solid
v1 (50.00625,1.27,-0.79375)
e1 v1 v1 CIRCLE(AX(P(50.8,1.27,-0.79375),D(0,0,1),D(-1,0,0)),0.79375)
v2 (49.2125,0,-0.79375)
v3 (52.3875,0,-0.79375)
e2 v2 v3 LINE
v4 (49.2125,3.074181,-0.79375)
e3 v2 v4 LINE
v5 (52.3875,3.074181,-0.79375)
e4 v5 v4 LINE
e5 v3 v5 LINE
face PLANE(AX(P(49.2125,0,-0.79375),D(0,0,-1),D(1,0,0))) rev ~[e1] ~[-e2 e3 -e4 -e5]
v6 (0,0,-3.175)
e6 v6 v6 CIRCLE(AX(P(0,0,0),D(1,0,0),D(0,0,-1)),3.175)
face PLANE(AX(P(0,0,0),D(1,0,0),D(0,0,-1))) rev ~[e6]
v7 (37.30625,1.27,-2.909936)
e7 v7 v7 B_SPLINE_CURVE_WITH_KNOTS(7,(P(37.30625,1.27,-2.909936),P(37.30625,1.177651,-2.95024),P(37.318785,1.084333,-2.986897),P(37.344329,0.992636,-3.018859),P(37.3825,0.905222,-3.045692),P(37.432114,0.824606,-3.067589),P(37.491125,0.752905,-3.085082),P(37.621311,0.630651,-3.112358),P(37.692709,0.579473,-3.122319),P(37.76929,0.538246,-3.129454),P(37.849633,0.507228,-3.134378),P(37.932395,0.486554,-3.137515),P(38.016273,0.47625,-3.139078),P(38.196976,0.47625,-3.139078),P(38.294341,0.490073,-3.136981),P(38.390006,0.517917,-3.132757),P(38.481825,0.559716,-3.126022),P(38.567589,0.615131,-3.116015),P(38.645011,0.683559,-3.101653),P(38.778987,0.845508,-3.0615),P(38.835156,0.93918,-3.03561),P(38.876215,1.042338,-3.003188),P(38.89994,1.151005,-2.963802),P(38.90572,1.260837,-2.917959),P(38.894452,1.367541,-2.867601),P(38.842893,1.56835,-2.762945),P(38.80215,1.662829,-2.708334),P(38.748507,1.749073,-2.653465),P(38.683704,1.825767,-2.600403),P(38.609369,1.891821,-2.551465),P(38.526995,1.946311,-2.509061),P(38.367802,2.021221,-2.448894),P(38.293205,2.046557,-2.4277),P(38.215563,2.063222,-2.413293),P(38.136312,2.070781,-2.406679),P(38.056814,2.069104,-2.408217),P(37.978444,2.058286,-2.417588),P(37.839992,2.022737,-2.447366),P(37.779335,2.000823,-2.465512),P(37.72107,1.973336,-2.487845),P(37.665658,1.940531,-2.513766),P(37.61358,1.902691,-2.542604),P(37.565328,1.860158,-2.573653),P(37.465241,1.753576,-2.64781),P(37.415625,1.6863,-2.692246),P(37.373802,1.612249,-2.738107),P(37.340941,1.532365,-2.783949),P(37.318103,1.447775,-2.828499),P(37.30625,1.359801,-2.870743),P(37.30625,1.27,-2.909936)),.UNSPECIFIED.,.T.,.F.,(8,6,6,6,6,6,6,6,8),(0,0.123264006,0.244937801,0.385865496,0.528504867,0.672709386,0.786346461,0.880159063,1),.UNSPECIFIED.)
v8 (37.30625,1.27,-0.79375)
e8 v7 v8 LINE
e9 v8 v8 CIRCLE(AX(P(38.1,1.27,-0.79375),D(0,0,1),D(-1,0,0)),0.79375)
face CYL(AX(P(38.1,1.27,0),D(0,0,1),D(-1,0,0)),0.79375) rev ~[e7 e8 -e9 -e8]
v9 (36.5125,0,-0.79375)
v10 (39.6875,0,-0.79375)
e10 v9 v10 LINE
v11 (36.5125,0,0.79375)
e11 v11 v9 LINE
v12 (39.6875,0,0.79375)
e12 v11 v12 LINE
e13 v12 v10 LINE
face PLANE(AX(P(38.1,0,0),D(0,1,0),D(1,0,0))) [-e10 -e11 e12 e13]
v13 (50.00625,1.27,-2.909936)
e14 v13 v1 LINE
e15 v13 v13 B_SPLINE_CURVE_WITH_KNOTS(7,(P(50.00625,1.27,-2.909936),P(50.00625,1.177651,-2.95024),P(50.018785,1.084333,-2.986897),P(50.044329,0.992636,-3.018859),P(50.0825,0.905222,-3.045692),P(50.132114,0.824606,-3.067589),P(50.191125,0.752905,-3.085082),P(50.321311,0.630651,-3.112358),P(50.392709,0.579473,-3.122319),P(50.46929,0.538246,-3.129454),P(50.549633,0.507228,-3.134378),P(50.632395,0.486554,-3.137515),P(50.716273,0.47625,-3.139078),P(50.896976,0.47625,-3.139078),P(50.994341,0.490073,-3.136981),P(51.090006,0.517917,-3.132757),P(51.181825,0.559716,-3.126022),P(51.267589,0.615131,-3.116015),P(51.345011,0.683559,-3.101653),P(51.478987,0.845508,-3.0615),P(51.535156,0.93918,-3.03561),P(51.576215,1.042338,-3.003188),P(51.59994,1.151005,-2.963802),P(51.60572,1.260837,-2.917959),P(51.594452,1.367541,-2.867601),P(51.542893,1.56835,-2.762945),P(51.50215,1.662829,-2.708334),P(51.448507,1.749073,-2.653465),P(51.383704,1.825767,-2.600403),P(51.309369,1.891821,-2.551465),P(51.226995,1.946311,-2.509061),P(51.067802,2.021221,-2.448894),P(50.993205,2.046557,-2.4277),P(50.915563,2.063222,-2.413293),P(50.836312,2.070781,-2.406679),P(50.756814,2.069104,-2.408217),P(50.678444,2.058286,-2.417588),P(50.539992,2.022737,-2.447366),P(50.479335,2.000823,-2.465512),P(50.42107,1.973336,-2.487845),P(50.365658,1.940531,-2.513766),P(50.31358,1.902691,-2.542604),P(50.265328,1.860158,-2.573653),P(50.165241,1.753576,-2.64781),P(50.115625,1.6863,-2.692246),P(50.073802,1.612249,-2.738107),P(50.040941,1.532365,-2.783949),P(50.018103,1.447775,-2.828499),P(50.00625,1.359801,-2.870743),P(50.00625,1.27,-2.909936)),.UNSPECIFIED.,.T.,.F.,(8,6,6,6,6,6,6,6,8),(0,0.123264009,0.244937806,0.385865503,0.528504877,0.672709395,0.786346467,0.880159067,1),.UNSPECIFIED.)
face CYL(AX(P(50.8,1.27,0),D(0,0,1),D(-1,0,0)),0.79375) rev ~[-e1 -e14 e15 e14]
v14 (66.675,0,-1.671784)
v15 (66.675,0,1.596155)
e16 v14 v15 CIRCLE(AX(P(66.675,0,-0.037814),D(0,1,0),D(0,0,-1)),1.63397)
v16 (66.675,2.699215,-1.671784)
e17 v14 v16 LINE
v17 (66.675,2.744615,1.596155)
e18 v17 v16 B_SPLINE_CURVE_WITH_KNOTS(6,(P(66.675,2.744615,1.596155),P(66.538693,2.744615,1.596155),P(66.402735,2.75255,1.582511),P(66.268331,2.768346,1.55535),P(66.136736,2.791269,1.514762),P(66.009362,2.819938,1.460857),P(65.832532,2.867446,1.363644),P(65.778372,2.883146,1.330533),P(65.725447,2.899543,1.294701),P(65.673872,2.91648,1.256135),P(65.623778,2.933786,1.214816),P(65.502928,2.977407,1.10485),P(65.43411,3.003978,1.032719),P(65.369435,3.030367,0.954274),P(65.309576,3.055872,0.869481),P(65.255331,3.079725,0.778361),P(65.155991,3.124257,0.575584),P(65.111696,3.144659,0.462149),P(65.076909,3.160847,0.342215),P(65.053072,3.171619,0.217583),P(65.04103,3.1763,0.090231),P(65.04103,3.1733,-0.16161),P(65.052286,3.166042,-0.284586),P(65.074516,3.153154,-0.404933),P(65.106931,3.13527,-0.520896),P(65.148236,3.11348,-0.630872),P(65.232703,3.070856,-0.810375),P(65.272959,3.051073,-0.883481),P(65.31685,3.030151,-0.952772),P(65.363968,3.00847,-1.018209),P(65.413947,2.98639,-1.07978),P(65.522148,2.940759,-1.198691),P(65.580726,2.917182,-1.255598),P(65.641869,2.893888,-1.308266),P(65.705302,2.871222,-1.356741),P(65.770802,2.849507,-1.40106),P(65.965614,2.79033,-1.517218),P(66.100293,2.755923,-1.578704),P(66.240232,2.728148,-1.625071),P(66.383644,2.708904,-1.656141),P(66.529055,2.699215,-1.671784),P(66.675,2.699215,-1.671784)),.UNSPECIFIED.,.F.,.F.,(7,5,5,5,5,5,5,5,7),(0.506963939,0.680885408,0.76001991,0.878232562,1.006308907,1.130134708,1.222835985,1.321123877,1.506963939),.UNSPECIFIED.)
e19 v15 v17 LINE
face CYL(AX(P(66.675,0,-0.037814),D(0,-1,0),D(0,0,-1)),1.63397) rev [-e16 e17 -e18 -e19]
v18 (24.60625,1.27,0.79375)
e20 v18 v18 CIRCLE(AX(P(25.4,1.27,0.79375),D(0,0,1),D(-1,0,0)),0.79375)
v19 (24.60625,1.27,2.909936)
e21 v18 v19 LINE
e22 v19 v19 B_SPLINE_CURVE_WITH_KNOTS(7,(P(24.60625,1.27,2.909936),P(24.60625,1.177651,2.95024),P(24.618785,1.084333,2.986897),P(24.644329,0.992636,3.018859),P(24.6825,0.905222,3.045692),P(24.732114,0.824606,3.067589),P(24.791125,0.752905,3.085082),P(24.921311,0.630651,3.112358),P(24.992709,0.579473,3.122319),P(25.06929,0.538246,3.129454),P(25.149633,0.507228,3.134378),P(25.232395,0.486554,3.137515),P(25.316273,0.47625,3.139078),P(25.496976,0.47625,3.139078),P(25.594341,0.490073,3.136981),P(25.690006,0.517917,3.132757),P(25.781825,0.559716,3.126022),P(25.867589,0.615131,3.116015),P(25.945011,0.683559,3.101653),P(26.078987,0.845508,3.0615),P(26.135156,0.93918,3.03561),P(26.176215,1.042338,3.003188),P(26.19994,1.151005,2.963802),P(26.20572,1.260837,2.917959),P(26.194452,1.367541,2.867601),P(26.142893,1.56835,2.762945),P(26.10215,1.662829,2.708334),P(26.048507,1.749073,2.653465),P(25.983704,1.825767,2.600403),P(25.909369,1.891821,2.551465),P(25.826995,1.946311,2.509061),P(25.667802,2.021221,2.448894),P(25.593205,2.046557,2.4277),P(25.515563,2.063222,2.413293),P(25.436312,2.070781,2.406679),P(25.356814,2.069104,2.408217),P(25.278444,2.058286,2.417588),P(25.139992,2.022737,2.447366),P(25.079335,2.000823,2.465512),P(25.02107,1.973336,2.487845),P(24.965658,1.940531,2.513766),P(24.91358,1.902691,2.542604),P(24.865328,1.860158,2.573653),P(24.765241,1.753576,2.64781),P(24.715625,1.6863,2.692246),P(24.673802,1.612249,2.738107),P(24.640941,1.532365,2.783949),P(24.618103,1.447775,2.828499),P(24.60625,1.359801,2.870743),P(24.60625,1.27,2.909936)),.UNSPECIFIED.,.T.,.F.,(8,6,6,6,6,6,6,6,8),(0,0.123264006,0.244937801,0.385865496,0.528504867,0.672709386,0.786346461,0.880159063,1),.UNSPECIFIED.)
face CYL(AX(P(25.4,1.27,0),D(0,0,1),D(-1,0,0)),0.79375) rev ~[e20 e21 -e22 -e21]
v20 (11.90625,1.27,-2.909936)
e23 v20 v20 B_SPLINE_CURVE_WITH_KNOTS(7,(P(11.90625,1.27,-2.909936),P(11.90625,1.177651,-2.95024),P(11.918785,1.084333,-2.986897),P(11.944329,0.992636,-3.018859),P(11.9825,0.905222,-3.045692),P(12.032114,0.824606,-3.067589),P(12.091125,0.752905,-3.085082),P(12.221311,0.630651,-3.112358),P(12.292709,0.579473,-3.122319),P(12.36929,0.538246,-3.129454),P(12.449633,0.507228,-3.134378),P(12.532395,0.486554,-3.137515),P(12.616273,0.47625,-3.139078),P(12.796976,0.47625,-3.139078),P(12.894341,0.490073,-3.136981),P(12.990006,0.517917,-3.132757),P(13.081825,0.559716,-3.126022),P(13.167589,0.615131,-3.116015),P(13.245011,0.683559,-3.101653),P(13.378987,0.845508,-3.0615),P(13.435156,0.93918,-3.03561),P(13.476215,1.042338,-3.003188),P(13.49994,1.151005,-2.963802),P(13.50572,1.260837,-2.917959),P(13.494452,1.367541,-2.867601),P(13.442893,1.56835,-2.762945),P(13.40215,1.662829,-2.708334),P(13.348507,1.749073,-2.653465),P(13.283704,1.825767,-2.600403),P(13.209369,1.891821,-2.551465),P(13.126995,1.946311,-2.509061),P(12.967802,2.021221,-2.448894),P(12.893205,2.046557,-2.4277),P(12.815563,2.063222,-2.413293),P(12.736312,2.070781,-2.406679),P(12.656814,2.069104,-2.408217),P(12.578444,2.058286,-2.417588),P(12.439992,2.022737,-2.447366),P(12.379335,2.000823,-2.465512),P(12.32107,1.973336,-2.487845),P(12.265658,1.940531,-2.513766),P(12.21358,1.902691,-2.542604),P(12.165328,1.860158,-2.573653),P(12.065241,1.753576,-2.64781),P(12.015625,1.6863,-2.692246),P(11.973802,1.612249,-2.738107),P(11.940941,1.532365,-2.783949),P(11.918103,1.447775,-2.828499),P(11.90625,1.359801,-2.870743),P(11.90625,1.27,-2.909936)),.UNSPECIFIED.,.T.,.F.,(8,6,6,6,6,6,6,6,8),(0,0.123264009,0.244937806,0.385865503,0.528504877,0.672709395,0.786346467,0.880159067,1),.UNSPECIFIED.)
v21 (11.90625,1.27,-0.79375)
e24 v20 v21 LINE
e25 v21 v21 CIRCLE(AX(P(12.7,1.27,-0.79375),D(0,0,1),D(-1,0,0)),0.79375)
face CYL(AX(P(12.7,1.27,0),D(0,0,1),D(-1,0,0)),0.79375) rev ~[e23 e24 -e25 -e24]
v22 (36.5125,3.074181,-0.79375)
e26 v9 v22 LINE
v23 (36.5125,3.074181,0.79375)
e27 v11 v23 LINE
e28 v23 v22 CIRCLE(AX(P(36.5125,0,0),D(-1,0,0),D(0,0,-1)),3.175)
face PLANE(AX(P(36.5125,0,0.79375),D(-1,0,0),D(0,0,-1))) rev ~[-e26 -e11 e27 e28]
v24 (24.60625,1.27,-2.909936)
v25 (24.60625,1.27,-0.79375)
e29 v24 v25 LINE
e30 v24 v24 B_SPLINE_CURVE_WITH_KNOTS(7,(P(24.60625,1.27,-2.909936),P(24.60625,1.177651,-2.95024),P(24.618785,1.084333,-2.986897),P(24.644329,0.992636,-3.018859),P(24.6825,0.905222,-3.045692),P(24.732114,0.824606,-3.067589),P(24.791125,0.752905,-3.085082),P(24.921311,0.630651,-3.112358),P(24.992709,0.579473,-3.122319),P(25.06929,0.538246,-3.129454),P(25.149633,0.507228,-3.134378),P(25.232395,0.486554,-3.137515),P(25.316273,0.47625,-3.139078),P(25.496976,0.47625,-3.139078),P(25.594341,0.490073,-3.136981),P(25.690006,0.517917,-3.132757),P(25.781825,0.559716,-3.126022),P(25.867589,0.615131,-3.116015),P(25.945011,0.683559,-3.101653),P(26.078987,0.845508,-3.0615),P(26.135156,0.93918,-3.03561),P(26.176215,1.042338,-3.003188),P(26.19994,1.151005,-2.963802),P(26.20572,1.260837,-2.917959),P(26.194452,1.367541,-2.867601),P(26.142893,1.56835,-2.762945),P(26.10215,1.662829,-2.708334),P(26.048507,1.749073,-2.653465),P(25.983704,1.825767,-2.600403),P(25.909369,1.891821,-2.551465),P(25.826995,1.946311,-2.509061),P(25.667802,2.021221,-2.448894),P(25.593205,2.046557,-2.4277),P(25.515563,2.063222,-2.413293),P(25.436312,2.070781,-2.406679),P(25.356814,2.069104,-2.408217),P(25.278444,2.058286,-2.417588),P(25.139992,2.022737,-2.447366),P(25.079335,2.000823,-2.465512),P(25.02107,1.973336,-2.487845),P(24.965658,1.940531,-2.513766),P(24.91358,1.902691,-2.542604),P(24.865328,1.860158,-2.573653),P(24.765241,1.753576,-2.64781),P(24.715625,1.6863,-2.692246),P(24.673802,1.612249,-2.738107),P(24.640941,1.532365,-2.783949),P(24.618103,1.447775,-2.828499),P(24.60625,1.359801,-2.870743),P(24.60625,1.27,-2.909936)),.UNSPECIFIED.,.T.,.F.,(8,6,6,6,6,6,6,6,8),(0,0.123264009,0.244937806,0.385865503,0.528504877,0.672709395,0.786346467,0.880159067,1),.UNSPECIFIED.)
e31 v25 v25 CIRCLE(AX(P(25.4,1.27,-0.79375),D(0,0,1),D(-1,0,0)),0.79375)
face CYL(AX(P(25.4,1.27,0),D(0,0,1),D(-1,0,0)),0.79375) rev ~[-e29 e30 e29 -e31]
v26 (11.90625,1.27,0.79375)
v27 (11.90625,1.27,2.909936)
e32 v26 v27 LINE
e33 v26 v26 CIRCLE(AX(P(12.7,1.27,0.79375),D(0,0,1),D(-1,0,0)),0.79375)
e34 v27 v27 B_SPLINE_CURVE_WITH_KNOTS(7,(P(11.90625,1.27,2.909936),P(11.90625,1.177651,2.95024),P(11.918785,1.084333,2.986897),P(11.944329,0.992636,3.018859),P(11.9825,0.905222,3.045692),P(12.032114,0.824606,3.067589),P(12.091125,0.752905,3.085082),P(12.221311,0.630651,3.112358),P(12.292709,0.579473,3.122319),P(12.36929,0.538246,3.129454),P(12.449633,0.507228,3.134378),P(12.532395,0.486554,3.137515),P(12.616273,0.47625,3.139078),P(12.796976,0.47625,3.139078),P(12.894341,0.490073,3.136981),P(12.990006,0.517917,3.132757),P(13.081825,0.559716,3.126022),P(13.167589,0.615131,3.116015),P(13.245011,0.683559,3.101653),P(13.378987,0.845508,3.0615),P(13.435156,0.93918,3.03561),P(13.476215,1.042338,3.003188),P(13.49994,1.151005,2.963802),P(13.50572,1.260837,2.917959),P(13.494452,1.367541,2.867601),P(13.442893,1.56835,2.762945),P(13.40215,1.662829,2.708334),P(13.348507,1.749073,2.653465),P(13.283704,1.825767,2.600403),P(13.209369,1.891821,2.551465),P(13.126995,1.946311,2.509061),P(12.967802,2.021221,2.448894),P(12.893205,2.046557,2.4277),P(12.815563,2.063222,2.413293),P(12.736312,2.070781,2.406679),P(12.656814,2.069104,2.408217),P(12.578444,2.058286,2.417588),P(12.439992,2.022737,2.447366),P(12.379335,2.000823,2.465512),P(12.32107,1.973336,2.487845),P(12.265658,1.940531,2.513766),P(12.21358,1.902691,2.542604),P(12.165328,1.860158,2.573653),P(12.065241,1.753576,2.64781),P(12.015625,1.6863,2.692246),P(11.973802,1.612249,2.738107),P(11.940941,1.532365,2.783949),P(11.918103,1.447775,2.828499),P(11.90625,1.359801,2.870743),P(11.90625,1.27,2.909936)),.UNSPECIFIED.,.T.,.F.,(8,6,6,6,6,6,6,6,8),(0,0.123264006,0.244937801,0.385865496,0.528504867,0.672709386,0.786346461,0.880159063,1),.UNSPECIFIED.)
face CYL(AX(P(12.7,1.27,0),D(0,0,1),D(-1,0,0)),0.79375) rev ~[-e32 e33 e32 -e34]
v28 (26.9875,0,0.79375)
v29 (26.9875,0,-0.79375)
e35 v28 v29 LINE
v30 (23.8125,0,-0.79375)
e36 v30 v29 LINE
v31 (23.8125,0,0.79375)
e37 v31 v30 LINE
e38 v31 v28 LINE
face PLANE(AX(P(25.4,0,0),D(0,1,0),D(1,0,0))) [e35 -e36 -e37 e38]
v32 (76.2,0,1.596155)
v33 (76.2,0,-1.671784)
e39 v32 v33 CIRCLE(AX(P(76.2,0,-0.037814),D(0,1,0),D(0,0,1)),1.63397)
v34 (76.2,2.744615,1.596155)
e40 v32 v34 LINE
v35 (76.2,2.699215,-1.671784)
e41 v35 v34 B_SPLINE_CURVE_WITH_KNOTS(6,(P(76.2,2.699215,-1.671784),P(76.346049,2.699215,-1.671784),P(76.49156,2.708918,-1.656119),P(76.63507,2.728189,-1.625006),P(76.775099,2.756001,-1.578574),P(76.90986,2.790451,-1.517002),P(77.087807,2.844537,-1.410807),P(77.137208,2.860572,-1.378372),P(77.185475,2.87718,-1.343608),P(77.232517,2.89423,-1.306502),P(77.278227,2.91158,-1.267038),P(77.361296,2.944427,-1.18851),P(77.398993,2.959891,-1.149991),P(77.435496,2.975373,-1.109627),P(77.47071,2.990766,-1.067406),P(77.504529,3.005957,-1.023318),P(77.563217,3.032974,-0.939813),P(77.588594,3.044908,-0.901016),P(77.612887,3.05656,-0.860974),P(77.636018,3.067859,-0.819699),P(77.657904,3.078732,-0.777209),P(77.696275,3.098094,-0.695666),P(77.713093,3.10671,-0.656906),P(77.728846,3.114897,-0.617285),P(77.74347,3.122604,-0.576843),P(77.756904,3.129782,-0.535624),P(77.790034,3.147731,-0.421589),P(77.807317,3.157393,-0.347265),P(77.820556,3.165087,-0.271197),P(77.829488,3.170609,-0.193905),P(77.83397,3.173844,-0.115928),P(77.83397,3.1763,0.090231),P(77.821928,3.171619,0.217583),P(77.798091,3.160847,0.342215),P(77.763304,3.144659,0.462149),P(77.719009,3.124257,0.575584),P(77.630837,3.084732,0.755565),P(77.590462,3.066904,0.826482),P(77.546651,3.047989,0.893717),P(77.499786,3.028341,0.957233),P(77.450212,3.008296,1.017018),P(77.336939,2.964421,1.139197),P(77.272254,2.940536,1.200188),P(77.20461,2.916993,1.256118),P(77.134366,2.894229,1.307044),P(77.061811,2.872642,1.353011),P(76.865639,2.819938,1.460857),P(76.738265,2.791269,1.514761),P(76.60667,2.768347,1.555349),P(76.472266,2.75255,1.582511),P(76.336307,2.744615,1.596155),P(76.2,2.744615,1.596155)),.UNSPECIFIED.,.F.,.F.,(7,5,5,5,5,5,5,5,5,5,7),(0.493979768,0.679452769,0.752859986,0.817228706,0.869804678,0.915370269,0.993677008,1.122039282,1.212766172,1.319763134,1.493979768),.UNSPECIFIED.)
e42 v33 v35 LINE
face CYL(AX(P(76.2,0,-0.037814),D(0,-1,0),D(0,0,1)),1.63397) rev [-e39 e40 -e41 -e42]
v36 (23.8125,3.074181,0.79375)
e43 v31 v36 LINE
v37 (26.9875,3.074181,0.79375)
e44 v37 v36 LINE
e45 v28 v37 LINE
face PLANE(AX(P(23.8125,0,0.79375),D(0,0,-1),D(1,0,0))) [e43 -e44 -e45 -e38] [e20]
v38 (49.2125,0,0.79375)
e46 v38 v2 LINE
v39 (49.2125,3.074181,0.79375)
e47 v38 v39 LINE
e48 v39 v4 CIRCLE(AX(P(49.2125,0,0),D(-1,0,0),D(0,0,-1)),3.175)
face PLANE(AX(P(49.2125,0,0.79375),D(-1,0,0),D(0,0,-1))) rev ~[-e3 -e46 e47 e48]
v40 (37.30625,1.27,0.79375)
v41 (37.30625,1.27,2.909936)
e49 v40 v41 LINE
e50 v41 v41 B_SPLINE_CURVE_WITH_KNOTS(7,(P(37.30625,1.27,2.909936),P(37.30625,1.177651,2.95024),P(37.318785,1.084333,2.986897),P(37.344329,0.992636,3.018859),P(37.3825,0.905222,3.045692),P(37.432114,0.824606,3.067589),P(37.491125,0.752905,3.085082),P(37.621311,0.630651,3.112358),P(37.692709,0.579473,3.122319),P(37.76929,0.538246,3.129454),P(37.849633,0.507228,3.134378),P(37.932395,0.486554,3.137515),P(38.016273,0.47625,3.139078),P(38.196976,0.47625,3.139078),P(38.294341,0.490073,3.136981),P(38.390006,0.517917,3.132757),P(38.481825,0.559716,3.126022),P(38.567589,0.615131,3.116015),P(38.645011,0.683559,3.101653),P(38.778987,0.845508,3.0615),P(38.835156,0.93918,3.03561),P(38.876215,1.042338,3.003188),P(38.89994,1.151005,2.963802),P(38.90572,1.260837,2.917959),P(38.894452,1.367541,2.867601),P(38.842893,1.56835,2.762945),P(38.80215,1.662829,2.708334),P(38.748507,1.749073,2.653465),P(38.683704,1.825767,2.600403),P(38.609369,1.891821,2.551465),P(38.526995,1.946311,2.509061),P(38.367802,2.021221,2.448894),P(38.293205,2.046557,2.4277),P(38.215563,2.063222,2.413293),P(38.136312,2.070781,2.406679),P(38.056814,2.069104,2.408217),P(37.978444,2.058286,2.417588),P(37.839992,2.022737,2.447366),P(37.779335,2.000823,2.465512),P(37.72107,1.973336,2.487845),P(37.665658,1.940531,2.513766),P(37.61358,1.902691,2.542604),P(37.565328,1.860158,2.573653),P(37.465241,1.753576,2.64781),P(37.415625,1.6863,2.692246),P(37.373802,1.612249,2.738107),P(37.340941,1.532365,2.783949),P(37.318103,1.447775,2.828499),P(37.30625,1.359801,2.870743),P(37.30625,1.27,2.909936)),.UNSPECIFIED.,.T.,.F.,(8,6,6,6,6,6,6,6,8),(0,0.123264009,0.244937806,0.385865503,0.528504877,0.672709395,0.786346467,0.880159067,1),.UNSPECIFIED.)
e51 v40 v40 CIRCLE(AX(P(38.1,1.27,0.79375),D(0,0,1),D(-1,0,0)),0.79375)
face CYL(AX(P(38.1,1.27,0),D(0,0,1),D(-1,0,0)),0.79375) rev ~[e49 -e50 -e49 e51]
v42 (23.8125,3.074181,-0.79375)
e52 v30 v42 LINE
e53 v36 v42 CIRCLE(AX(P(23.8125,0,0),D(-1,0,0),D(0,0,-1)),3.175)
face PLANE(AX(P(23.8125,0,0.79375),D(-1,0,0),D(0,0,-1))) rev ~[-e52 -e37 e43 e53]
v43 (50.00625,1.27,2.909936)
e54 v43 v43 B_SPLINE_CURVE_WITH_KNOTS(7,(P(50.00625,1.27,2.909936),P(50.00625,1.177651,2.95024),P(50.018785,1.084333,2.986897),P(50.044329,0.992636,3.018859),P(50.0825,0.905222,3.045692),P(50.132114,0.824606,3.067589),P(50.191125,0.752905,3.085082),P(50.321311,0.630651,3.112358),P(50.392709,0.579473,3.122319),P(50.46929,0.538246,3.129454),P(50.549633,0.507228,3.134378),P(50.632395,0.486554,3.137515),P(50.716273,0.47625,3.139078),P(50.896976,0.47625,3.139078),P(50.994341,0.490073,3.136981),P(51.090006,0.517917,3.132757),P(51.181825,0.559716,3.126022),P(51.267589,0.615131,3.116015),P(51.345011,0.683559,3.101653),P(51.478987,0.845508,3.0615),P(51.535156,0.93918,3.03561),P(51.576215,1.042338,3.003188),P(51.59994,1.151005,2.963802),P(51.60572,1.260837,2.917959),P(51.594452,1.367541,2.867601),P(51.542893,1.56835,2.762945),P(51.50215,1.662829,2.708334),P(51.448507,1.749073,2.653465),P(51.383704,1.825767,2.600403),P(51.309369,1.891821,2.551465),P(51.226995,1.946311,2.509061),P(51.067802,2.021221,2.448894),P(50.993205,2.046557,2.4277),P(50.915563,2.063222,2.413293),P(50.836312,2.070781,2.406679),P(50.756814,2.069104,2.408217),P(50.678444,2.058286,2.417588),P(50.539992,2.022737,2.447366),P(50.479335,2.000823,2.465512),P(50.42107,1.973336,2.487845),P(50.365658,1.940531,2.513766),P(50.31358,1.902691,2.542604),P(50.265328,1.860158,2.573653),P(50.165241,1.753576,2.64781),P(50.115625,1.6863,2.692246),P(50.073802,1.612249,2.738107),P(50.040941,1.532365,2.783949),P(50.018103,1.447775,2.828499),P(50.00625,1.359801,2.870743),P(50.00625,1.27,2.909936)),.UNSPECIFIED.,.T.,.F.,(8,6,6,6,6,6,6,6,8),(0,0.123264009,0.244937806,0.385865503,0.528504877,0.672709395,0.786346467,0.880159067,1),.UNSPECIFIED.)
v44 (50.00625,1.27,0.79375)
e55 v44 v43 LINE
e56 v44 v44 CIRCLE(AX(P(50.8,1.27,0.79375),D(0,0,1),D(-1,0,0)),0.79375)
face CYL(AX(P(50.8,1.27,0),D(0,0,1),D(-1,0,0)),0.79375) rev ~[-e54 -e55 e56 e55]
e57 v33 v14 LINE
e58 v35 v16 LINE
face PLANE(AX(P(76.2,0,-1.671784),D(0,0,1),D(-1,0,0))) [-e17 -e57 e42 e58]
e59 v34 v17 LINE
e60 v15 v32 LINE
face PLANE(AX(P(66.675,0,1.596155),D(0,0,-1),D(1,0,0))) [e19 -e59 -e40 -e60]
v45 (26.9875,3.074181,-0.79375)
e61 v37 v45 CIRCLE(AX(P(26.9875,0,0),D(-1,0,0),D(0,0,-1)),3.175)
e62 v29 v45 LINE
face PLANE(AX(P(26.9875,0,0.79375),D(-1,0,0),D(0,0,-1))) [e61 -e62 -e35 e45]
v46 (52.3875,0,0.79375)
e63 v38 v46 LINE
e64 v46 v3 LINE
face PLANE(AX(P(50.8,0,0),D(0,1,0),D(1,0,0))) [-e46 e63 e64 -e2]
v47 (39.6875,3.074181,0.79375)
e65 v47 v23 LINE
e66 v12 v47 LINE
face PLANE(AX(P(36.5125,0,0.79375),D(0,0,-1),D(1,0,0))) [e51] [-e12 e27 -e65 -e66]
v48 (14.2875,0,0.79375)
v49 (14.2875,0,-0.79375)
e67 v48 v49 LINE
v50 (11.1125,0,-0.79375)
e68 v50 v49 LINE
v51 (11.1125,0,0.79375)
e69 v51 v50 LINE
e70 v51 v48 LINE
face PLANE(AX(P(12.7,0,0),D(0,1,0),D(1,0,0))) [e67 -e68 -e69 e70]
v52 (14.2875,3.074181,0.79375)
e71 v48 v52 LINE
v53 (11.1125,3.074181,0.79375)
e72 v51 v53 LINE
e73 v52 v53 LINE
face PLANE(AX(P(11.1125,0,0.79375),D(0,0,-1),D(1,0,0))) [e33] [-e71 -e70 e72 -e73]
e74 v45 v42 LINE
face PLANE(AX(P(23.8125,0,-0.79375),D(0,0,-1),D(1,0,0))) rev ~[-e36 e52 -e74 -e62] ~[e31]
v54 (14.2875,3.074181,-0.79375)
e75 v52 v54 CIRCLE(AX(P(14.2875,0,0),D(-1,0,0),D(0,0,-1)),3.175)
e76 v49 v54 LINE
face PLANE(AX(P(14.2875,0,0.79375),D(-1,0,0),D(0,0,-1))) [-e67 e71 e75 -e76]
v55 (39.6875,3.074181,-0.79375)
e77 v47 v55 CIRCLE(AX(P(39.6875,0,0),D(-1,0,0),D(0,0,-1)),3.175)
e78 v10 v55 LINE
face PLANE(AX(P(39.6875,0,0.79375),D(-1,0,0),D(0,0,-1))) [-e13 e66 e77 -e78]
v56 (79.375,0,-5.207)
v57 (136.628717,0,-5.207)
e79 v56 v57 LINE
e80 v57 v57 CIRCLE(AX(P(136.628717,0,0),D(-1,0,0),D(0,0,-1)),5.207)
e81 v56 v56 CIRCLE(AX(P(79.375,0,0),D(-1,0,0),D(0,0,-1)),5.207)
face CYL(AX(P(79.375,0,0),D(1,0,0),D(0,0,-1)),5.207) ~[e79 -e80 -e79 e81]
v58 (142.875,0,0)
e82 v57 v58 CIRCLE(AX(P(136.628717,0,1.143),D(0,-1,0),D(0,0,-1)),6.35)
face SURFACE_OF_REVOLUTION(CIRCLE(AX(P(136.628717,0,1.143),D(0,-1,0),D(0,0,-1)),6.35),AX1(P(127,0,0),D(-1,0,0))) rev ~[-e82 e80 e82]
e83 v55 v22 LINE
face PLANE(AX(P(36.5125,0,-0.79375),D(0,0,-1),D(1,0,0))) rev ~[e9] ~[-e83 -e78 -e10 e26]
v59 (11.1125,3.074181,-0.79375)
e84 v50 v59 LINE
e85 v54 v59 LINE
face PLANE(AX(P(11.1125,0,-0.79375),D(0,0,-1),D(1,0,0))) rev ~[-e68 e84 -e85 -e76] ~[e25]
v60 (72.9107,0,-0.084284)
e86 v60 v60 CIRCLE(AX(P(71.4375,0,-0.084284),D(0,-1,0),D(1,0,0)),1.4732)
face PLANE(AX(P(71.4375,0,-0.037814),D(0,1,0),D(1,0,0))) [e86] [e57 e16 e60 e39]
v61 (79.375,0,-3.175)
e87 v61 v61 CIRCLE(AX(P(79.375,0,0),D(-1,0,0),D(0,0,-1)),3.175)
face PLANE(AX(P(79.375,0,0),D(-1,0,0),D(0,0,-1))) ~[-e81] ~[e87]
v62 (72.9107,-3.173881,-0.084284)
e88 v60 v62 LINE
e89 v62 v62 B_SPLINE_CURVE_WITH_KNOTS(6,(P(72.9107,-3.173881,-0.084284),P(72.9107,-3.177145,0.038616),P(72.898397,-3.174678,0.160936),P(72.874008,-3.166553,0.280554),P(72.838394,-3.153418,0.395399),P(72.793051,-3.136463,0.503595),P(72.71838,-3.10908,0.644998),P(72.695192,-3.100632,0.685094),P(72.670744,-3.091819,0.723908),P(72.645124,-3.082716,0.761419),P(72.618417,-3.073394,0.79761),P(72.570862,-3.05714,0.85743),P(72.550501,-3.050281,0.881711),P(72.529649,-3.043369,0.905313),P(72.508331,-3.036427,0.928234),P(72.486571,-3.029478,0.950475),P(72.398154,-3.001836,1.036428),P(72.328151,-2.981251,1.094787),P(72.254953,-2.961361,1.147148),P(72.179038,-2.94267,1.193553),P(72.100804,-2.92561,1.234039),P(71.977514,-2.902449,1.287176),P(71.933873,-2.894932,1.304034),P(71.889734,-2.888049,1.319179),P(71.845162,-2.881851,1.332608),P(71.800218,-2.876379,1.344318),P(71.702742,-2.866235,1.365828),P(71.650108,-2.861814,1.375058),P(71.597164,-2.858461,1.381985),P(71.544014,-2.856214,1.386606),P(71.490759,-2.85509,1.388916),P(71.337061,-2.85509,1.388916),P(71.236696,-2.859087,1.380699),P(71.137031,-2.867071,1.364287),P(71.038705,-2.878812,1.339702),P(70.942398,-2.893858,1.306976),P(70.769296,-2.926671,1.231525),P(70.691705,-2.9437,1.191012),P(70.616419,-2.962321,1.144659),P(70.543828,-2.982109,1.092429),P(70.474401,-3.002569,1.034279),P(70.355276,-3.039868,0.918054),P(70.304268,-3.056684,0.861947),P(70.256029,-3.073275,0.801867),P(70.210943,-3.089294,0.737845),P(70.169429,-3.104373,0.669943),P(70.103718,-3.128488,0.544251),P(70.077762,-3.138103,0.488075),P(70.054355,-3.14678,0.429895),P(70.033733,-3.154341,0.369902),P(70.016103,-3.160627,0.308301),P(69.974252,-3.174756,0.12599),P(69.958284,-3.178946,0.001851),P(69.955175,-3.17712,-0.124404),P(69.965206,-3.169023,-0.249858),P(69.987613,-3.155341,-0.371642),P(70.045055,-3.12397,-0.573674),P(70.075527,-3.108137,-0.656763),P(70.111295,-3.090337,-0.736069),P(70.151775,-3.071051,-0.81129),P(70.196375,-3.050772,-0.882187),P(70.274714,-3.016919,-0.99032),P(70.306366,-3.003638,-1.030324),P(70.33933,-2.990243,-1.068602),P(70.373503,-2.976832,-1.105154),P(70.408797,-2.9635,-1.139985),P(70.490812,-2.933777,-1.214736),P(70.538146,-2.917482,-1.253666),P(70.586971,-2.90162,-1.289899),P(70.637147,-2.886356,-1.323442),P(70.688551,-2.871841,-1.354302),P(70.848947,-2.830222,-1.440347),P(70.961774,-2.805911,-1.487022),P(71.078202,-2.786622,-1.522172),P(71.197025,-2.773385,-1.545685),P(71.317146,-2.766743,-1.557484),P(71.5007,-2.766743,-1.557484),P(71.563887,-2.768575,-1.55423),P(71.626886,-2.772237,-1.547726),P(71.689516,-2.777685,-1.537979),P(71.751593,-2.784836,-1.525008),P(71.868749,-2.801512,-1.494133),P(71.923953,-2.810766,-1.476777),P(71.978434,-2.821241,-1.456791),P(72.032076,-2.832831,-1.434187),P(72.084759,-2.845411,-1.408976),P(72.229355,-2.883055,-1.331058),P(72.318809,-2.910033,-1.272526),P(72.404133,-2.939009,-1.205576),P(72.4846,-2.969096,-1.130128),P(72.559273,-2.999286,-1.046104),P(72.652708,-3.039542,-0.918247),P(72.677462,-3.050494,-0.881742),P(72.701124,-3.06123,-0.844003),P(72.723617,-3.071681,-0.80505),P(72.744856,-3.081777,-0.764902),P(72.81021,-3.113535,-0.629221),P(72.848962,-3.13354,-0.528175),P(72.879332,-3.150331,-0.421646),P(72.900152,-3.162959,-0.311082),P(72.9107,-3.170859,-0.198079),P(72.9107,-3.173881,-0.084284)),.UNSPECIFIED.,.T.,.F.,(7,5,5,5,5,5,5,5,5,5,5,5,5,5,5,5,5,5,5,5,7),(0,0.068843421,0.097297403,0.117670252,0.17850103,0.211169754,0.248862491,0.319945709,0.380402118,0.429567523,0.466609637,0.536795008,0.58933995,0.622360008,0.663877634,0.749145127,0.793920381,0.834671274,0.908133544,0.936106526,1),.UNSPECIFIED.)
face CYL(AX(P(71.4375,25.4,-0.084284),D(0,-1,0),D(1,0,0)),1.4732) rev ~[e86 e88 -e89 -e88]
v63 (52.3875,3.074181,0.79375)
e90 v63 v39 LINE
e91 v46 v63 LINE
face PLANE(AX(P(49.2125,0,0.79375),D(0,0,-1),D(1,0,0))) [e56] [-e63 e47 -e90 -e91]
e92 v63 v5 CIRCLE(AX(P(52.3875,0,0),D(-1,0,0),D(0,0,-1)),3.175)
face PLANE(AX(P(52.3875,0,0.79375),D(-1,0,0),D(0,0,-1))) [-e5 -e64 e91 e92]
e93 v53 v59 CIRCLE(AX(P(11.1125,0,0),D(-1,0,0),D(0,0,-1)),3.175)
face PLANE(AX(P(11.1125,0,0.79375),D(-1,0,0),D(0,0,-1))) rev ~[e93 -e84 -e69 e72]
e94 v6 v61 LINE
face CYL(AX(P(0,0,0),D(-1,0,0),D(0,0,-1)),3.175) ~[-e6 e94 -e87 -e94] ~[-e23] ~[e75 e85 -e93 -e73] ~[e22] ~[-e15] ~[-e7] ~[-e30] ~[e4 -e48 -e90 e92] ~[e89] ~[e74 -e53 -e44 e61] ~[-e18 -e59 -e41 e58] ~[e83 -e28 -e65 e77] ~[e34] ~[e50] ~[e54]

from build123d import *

# Parameters (mm, degrees)
SKETCH1_R                       = 3.175
BOSS_EXTRUDE1_DEPTH             = 127
CUT_EXTRUDE2_DEPTH              = 3.175
F_32_0_116_DIAMETER_HOLE1_D     = 2.9464
F_32_0_116_DIAMETER_HOLE1_DEPTH = 25.4
F_32_0_116_DIAMETER_HOLE1_TIP   = 0.885187864
SKETCH7_R                       = 0.79375
CUT_EXTRUDE3_DEPTH              = 5.08
SKETCH10_W                      = 3.175
SKETCH10_H                      = 1.5875
CUT_EXTRUDE4_DEPTH              = 5.715
LPATTERN1_COUNT                 = 4
LPATTERN1_PITCH                 = 12.7


with BuildPart() as part:
    # Sketch1 → Boss-Extrude1 (new body)
    with BuildSketch(Plane(origin=(0, 0, 0), x_dir=(0, 0, -1), z_dir=(1, 0, 0))):
        Circle(SKETCH1_R)
    extrude(amount=BOSS_EXTRUDE1_DEPTH)

    # Sketch2 → Revolve1 (revolve)
    with BuildSketch(Plane.XY):
        with BuildLine():
            Line((142.875, 0), (79.375, 0))
            Line((79.375, 0), (79.375, 5.207))
            Line((79.375, 5.207), (136.628717025, 5.207))
            ThreePointArc((136.628717025, 5.207), (140.694700916, 3.73452755), (142.875, 0))
        make_face()
    revolve(axis=Axis((127, 0, 0), (-1, 0, 0)))

    # Sketch4 → Cut-Extrude2 (cut)
    with BuildSketch(Plane(origin=(0, 0, 0), x_dir=(1, 0, 0), z_dir=(0, 1, 0))):
        with BuildLine():
            Line((76.2, 1.671783879), (66.675, 1.671783879))
            ThreePointArc((66.675, 1.671783879), (65.041030381, 0.03781426), (66.675, -1.596155359))
            Line((66.675, -1.596155359), (76.2, -1.596155359))
            ThreePointArc((76.2, -1.596155359), (77.833969619, 0.03781426), (76.2, 1.671783879))
        make_face()
    extrude(amount=CUT_EXTRUDE2_DEPTH, mode=Mode.SUBTRACT)

    # #32 (0.116) Diameter Hole1
    with Locations(Plane(origin=(0, 0, 0), x_dir=(-1, 0, 0), z_dir=(0, 1, 0))):
        with Locations((-71.4375, -0.084283879)):
            Hole(F_32_0_116_DIAMETER_HOLE1_D / 2, depth=F_32_0_116_DIAMETER_HOLE1_DEPTH)
            with Locations((0, 0, -(F_32_0_116_DIAMETER_HOLE1_DEPTH + F_32_0_116_DIAMETER_HOLE1_TIP / 2))):  # 118° drill point
                Cone(0, F_32_0_116_DIAMETER_HOLE1_D / 2, F_32_0_116_DIAMETER_HOLE1_TIP, mode=Mode.SUBTRACT)

    # Sketch7 → Cut-Extrude3 (cut, symmetric)
    with BuildSketch(Plane.XY):
        with Locations((12.7, 1.27)):
            Circle(SKETCH7_R)
    cut_extrude3 = extrude(amount=CUT_EXTRUDE3_DEPTH, both=True, mode=Mode.SUBTRACT)

    # Sketch10 → Cut-Extrude4 (cut)
    with BuildSketch(Plane(origin=(0, 0, 0), x_dir=(1, 0, 0), z_dir=(0, 1, 0))):
        with Locations((12.7, 0)):
            Rectangle(SKETCH10_W, SKETCH10_H)
    cut_extrude4 = extrude(amount=CUT_EXTRUDE4_DEPTH, mode=Mode.SUBTRACT)

    # LPattern1: Cut-Extrude3, Cut-Extrude4 ×4
    with Locations(*[(i * LPATTERN1_PITCH, 0, 0) for i in range(1, LPATTERN1_COUNT)]):
        add(cut_extrude3, mode=Mode.SUBTRACT)
        add(cut_extrude4, mode=Mode.SUBTRACT)


solid = part.part
